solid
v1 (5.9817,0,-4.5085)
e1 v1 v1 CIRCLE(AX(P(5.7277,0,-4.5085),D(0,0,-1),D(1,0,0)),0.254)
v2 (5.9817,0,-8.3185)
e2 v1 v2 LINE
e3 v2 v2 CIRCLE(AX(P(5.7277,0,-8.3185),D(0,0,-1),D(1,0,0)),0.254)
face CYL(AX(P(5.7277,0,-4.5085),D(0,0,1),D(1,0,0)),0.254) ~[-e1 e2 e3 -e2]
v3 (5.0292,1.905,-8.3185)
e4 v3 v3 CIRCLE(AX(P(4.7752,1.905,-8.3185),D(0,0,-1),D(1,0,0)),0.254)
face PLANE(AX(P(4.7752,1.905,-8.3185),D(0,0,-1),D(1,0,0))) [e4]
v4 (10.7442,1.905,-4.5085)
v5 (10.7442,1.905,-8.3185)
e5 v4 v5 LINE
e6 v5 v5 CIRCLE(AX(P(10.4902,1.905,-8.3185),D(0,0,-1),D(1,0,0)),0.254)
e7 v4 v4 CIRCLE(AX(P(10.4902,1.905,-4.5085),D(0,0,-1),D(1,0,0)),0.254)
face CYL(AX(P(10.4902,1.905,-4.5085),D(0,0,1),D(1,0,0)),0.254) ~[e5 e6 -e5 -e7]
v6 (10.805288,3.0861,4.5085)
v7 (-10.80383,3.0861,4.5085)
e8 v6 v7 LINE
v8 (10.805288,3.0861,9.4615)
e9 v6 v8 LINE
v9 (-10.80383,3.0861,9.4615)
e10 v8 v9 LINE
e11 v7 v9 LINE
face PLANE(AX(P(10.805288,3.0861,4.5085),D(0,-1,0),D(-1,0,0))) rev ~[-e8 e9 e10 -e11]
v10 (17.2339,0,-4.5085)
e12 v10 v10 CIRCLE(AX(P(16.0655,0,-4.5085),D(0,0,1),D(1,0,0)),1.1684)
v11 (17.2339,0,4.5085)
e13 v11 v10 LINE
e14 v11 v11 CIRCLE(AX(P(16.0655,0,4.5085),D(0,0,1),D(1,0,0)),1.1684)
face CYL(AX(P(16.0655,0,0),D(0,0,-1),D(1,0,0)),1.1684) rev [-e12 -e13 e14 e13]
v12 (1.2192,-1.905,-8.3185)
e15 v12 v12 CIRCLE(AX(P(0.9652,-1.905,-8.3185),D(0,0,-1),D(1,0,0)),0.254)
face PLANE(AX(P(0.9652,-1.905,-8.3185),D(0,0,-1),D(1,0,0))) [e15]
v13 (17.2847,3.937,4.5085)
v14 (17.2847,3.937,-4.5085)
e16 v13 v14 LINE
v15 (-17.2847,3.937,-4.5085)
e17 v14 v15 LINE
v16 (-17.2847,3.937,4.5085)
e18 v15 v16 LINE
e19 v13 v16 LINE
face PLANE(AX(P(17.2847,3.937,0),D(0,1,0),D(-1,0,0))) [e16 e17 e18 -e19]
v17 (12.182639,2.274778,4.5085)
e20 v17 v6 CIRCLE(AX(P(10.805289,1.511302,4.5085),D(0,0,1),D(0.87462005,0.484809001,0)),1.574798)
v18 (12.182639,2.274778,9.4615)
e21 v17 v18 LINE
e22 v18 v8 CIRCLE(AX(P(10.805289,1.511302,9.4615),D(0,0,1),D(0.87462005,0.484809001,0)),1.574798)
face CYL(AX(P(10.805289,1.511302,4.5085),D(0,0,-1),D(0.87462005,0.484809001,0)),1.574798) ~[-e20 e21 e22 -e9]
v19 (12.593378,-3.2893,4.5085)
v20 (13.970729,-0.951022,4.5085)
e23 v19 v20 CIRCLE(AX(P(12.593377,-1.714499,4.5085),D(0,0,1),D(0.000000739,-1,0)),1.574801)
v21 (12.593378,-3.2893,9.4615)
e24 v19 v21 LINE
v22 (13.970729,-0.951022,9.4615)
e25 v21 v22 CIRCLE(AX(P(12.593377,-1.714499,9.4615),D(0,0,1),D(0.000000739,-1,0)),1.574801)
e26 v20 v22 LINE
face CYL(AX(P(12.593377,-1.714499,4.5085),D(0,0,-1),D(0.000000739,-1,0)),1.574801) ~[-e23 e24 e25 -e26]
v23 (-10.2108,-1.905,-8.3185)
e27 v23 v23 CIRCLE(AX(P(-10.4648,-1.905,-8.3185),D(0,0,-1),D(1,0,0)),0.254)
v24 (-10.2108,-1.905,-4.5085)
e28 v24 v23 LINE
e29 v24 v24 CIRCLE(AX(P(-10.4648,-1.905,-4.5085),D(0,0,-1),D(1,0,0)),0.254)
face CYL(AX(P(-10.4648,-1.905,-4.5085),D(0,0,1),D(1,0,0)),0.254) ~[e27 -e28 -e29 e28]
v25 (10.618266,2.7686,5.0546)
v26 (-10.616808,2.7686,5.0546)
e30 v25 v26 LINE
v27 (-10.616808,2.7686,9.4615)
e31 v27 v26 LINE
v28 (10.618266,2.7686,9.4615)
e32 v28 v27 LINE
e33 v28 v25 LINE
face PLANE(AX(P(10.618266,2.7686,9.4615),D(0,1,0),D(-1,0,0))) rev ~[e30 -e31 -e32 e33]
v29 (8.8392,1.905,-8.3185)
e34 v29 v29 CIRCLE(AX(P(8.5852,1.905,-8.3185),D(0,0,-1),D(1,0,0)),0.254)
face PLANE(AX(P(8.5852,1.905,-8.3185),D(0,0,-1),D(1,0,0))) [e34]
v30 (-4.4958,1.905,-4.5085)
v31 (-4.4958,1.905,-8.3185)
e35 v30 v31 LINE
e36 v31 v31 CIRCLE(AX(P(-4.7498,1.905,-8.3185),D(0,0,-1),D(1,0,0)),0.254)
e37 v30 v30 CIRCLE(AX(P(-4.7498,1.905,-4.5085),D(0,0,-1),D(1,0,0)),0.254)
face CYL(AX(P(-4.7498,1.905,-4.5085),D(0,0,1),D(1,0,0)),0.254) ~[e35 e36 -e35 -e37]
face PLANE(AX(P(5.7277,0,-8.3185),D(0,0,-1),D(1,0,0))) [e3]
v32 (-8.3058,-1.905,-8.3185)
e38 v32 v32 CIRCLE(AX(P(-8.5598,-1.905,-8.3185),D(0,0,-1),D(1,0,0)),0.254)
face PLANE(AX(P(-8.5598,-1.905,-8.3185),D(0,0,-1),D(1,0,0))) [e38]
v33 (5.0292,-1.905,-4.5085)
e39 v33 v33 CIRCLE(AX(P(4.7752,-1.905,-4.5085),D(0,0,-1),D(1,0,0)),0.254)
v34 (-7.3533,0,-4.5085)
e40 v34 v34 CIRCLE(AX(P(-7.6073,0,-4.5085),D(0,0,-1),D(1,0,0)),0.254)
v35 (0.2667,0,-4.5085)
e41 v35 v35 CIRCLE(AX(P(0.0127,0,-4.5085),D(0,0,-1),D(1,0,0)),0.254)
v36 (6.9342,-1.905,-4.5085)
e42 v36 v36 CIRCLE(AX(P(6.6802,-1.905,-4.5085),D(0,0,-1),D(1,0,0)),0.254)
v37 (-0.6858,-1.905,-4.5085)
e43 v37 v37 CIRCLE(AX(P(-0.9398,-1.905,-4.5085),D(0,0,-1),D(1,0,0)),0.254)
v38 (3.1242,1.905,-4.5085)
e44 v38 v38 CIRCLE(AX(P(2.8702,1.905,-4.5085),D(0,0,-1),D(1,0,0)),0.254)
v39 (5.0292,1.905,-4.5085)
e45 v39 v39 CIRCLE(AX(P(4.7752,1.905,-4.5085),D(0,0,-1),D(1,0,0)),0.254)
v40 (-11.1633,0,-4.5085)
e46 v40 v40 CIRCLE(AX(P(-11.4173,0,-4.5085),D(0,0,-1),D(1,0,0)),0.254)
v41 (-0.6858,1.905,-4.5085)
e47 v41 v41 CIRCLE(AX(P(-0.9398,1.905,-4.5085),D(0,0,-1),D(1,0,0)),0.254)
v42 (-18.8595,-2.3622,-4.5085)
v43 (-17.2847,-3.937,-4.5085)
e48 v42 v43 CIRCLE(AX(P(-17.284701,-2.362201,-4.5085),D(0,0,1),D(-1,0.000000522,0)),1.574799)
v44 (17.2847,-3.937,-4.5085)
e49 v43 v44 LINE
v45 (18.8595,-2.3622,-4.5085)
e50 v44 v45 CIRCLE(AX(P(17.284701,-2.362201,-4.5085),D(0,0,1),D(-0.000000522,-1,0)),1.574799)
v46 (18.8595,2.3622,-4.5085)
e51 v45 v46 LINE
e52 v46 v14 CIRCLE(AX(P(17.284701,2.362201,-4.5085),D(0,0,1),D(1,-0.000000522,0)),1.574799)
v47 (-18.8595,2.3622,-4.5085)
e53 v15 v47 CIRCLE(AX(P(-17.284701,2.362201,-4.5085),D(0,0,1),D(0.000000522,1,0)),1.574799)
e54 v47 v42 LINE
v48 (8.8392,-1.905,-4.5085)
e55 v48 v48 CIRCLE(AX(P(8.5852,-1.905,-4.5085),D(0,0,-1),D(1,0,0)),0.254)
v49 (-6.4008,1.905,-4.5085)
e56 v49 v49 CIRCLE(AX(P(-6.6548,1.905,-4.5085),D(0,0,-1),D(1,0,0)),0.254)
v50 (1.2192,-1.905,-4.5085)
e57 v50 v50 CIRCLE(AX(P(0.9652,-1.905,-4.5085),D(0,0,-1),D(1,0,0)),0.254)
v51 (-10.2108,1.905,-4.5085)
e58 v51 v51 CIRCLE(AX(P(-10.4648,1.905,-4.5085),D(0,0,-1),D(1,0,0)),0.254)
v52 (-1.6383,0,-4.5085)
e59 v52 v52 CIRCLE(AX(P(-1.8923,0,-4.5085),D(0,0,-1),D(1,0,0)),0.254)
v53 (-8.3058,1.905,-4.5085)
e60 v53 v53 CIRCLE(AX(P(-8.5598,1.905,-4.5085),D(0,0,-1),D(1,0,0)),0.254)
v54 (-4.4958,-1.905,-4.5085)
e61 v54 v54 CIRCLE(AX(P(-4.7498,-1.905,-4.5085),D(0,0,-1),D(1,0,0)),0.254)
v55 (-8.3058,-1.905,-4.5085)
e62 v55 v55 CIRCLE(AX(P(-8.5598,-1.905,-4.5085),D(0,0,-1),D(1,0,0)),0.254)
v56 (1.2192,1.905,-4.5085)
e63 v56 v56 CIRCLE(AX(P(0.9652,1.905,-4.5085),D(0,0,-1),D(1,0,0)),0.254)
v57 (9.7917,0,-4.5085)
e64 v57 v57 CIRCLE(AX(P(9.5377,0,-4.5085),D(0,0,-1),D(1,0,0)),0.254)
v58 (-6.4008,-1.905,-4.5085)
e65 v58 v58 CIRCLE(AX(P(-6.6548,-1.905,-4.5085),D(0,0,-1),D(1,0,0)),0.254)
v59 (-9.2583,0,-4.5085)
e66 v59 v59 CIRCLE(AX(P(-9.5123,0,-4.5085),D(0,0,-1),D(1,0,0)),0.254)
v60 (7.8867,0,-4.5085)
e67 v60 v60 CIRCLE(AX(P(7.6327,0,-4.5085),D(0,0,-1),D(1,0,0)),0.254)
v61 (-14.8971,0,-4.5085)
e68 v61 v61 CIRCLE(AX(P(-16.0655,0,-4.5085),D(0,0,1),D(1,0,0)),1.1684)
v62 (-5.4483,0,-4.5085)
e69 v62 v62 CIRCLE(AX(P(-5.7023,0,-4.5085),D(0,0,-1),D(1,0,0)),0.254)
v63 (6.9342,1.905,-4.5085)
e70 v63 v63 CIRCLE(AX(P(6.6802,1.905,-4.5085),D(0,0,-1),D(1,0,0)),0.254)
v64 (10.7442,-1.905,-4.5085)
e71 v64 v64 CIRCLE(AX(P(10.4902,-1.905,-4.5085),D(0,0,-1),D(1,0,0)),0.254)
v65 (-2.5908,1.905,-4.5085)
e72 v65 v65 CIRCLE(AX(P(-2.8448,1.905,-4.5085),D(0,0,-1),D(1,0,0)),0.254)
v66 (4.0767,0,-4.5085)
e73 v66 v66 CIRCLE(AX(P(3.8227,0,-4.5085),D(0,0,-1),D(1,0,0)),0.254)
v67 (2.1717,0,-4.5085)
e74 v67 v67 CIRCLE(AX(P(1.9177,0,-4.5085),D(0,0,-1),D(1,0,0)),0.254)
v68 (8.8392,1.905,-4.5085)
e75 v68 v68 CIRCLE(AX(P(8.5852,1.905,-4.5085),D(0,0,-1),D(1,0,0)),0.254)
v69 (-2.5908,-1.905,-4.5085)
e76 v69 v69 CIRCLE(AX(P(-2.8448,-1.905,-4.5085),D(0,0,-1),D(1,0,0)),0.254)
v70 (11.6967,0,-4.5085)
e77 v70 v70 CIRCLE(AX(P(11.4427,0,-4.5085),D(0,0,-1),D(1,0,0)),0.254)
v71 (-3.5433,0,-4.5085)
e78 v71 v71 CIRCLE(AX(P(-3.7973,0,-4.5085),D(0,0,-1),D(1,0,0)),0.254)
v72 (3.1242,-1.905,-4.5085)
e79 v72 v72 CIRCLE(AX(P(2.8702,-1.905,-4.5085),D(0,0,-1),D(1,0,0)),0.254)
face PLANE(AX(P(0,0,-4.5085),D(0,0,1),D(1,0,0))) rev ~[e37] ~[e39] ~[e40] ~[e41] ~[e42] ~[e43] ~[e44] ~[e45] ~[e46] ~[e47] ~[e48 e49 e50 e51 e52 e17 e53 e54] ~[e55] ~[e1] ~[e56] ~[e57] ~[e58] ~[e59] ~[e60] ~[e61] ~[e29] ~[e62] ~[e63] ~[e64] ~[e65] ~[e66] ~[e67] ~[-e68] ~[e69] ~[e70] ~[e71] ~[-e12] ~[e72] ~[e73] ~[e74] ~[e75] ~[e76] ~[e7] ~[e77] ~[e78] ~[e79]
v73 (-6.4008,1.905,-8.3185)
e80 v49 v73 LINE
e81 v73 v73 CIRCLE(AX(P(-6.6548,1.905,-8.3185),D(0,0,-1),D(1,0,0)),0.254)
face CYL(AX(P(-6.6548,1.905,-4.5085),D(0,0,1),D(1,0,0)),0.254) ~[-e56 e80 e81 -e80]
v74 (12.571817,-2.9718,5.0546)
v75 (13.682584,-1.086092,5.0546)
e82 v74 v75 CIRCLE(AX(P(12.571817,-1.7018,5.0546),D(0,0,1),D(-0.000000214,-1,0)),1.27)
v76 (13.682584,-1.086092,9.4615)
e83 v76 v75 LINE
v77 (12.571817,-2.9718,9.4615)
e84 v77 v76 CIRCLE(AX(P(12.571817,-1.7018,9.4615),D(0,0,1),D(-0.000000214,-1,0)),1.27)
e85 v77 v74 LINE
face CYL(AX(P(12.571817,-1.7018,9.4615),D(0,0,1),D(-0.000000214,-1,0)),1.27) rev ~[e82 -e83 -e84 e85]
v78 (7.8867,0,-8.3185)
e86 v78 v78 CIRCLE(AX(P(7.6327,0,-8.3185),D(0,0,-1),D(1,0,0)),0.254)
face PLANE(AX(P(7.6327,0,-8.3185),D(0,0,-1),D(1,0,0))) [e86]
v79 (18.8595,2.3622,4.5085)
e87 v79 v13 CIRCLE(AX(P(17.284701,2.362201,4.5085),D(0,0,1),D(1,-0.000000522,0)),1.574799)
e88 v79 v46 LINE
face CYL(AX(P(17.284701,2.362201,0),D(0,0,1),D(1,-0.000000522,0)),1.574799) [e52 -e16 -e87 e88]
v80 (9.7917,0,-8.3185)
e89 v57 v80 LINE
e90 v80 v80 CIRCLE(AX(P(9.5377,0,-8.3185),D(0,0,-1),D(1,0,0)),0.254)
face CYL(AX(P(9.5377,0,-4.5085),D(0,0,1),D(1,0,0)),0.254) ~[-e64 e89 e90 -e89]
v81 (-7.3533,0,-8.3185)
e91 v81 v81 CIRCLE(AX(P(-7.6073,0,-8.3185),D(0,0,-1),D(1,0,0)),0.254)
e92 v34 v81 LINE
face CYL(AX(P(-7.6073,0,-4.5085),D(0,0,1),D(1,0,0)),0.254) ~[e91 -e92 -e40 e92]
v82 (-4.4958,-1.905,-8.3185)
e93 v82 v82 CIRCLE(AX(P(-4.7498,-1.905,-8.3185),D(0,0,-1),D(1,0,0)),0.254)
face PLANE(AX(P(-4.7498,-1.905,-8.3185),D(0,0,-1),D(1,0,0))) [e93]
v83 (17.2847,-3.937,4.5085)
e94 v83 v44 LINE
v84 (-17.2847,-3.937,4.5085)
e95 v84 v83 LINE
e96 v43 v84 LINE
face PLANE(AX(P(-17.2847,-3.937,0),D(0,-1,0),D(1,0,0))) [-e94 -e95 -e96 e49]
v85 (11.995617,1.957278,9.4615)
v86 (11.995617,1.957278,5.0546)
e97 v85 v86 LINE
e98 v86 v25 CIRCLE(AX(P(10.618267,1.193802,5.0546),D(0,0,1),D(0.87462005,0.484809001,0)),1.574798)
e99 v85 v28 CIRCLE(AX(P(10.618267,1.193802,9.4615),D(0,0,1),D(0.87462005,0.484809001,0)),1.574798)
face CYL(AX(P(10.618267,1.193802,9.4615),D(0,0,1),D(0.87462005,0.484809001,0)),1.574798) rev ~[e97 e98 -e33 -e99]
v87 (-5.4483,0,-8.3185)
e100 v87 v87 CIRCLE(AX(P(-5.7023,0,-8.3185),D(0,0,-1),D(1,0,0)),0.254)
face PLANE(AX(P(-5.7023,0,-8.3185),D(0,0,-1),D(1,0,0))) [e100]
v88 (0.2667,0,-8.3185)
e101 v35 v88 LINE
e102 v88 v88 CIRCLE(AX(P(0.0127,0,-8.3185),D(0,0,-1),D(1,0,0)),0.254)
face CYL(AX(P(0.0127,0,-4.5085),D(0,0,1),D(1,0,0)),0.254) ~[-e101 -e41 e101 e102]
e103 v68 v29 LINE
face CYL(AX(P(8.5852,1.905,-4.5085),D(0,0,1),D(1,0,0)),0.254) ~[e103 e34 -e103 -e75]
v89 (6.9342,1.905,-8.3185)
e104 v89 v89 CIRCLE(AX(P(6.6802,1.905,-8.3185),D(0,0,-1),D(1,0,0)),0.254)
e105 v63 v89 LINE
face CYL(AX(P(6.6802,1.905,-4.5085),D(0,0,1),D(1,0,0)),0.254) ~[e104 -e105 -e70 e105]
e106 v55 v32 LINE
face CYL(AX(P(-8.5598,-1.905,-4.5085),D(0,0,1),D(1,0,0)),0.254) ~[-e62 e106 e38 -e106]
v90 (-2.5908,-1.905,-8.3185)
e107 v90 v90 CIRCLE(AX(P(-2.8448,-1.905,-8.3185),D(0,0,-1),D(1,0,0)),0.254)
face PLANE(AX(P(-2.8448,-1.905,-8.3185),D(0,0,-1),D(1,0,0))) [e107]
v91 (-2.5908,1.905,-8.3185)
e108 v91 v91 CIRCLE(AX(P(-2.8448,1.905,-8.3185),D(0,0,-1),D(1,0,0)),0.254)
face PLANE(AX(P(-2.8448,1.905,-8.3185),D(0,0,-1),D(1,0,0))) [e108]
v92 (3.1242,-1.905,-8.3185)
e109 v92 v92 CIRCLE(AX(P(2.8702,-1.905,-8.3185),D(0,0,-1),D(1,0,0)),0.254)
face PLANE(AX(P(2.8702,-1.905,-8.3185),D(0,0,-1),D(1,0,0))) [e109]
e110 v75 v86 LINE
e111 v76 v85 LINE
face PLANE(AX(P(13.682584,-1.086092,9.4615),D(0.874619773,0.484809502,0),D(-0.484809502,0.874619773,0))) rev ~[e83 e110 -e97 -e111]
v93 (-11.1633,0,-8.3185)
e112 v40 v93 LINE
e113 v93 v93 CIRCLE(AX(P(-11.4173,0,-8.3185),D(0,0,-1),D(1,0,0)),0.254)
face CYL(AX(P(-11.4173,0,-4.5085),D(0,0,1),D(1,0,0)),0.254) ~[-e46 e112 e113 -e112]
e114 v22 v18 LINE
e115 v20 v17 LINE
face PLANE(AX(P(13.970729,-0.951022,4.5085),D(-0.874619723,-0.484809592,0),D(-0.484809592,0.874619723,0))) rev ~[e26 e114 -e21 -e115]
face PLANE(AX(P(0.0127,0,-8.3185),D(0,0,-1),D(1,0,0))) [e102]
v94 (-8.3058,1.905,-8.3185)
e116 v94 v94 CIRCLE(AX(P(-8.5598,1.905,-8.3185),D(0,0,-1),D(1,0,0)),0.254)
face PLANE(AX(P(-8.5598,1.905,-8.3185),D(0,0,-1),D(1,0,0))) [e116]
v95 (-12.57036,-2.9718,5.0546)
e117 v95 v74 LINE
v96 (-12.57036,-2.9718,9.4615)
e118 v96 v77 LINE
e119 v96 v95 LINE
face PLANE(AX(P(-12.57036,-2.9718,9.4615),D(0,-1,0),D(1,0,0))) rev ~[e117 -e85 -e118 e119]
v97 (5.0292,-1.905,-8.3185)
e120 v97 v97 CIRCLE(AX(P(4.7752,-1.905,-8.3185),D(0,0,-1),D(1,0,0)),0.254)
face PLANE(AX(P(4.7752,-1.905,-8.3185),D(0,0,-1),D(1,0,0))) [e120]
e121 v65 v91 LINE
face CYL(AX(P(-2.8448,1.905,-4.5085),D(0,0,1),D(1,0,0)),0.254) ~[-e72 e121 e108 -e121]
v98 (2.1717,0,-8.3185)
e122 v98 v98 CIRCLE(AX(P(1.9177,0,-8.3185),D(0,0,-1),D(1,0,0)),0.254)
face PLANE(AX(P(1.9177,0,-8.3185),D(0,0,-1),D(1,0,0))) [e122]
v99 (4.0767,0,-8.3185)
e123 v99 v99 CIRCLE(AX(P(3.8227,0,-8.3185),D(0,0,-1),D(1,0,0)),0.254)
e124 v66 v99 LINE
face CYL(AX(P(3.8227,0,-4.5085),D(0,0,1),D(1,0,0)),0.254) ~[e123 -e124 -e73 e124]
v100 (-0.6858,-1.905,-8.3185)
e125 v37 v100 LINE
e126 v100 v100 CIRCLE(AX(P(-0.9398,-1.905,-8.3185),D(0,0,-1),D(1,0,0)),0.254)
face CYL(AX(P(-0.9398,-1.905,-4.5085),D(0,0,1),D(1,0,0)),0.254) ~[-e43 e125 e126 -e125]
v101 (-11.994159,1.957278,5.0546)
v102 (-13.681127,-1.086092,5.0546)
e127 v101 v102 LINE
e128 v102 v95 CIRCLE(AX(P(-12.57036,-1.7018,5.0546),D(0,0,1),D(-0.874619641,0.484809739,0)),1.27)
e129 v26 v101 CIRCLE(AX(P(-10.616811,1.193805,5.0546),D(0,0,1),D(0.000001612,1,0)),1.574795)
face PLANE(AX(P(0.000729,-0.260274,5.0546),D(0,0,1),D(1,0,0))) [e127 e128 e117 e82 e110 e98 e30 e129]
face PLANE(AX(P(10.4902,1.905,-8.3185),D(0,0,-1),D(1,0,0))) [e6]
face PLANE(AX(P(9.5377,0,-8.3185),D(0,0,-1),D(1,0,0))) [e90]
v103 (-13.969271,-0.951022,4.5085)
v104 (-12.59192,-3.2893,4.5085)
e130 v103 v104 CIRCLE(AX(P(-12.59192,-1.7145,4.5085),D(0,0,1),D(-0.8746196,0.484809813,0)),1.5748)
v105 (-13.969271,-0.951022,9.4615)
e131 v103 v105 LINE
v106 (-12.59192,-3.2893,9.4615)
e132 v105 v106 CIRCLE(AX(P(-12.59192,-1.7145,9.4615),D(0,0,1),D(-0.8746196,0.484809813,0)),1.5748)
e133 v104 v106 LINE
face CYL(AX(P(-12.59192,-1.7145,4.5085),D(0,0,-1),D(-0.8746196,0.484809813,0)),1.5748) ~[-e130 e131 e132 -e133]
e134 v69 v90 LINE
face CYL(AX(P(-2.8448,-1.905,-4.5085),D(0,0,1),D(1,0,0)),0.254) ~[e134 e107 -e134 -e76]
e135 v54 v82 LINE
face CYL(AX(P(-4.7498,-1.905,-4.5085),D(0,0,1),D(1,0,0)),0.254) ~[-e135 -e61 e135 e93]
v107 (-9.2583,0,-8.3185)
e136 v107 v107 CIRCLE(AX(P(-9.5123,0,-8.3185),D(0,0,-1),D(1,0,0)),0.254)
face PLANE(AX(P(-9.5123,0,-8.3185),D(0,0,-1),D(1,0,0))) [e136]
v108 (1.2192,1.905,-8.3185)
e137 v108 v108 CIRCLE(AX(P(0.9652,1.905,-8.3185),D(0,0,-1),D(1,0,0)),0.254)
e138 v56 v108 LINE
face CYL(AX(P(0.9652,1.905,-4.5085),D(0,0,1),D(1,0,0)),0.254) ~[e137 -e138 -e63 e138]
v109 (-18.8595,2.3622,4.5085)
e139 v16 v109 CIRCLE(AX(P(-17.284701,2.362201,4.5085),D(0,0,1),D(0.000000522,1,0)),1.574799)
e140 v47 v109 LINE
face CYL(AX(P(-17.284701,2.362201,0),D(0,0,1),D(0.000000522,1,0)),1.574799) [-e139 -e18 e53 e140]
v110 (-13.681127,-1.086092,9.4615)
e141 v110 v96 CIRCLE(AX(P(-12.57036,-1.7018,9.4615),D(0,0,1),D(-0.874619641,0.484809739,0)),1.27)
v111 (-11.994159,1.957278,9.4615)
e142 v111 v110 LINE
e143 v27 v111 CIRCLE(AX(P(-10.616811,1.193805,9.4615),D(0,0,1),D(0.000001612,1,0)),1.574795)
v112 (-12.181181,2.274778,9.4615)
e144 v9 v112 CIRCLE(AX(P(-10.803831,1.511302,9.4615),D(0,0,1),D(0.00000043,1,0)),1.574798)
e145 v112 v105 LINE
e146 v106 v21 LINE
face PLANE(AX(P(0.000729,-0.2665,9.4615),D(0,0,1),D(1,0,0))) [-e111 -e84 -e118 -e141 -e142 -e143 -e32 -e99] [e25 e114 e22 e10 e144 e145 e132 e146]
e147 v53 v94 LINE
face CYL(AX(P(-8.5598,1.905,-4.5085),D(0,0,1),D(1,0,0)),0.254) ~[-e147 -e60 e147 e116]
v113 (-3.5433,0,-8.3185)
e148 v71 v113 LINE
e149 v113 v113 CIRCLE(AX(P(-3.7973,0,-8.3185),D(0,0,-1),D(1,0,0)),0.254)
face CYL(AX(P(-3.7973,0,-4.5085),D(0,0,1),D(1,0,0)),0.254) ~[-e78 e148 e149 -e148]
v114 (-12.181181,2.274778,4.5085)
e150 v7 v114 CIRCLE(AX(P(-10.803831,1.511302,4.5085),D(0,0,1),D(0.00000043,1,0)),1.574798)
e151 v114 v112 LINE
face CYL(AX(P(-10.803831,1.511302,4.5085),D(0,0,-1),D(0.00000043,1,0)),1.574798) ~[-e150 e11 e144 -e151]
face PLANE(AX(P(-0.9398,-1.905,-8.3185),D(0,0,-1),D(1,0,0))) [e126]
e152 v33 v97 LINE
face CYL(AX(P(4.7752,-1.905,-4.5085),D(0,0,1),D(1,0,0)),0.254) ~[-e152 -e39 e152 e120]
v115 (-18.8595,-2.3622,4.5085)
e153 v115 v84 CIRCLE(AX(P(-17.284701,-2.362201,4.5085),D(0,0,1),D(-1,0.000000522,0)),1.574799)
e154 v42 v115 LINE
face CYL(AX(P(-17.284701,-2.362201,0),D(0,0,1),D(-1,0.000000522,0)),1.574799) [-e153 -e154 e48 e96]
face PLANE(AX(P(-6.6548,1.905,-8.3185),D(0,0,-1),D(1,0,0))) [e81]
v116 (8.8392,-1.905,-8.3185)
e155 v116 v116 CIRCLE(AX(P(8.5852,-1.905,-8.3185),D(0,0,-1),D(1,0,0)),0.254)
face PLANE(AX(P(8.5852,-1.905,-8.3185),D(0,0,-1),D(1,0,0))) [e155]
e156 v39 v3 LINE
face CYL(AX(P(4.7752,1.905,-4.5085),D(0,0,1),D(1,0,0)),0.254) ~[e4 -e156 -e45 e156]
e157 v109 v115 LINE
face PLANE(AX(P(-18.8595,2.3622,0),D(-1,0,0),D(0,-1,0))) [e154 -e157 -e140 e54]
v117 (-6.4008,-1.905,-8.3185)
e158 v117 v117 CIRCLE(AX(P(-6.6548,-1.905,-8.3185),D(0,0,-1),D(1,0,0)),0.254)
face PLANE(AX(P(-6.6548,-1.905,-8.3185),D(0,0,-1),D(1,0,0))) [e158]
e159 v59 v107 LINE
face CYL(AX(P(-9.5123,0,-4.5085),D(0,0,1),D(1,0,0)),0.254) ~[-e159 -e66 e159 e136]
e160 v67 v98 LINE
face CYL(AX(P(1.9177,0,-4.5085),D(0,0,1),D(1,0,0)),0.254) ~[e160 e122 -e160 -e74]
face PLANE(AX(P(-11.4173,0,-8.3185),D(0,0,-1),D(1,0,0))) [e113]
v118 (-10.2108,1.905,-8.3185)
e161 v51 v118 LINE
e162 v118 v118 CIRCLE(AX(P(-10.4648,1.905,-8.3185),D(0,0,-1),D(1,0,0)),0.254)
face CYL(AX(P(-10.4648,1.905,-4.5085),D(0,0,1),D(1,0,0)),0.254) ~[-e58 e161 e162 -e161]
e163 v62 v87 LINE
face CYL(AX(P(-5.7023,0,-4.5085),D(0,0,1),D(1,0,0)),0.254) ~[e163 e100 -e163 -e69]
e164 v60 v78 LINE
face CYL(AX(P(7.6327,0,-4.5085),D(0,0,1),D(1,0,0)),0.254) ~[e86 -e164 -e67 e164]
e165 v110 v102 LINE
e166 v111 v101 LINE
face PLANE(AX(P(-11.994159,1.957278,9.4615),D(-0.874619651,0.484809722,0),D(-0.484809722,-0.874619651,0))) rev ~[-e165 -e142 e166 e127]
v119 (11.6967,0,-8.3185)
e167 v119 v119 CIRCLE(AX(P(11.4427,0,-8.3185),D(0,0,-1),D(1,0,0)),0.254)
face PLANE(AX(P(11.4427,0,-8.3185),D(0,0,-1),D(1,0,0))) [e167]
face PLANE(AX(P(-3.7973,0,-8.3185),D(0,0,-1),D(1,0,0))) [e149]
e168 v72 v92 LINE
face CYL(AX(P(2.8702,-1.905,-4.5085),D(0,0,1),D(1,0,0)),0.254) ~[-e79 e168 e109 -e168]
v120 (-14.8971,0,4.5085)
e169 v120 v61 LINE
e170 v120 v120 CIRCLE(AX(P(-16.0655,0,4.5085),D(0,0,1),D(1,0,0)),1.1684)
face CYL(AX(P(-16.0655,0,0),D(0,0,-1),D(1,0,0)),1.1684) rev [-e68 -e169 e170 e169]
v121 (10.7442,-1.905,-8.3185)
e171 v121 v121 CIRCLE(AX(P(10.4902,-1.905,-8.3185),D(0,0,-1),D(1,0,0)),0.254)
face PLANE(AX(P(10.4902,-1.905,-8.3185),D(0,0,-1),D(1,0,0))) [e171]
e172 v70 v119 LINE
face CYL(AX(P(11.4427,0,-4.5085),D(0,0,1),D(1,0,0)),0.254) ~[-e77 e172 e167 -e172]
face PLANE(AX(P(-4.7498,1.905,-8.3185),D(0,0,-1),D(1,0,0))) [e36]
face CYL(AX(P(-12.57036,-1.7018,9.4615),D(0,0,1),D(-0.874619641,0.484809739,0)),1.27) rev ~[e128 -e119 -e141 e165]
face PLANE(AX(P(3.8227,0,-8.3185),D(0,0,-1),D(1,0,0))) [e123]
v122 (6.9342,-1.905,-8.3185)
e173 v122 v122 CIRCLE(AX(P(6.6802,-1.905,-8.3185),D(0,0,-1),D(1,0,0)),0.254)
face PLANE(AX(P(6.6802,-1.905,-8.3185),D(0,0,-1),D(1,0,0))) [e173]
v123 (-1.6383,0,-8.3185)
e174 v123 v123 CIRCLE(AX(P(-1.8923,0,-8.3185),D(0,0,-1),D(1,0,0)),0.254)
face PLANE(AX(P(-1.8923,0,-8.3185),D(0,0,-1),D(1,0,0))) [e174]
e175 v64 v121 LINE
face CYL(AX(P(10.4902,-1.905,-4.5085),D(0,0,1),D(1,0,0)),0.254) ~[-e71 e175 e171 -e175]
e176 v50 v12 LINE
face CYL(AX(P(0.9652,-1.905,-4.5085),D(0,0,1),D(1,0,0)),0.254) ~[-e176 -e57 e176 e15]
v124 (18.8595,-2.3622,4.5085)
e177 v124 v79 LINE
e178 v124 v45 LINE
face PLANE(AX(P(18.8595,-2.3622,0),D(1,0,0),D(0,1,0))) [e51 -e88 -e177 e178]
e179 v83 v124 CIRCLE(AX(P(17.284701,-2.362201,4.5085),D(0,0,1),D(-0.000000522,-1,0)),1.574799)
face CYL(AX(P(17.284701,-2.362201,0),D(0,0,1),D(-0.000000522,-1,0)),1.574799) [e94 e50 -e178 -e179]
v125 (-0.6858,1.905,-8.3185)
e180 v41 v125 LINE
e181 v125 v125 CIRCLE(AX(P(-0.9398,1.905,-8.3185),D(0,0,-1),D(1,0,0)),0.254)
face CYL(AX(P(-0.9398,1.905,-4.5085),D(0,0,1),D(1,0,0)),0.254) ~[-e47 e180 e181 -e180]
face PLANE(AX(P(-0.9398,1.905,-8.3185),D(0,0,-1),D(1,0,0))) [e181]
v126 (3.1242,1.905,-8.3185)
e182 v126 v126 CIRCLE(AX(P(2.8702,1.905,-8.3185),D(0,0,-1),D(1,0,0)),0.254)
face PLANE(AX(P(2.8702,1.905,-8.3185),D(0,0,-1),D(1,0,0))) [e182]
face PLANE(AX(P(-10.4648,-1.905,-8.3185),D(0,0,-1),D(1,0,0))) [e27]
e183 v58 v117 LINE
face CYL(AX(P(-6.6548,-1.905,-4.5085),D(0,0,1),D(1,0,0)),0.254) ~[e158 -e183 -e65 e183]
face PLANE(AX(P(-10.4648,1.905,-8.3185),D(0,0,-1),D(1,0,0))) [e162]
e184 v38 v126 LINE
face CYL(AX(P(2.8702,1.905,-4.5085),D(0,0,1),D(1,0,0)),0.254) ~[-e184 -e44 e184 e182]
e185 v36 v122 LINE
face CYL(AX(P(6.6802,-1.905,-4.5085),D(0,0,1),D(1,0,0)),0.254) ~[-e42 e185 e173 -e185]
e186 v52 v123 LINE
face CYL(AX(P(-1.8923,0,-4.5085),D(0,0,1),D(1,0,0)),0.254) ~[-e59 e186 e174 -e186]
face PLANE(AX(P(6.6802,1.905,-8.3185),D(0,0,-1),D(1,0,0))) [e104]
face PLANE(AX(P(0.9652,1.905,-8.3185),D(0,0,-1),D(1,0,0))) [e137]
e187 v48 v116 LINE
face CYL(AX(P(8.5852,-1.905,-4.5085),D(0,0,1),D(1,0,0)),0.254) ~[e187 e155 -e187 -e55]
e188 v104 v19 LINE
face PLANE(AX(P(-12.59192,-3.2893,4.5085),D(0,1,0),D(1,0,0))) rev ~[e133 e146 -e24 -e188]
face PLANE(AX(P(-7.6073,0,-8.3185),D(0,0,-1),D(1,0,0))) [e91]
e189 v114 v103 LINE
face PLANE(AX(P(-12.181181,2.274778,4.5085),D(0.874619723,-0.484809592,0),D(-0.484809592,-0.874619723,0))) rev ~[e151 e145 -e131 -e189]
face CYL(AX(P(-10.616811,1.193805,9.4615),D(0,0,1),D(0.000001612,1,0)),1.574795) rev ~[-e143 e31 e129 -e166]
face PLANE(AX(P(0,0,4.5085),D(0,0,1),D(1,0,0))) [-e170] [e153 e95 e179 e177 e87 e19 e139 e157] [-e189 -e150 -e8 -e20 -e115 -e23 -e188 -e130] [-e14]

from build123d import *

# Parameters (mm, degrees)
F0_R     = 1.1684
F1_DEPTH = 4.5085
F3_DEPTH = 4.953
F5_DEPTH = 4.4069
F6_R     = 0.254
F7_DEPTH = 3.81


with BuildPart() as f1:
    # F0 (on Top) → F1 (new body, symmetric)
    with BuildSketch(Plane.XY):
        with BuildLine():
            Line((17.2847, 3.937), (-17.2847, 3.937))
            ThreePointArc((-17.2847, 3.937), (-18.398252, 3.475752), (-18.8595, 2.3622))
            Line((-18.8595, 2.3622), (-18.8595, -2.3622))
            ThreePointArc((-18.8595, -2.3622), (-18.398252, -3.475752), (-17.2847, -3.937))
            Line((-17.2847, -3.937), (17.2847, -3.937))
            ThreePointArc((17.2847, -3.937), (18.398252, -3.475752), (18.8595, -2.3622))
            Line((18.8595, -2.3622), (18.8595, 2.3622))
            ThreePointArc((18.8595, 2.3622), (18.398252, 3.475752), (17.2847, 3.937))
        make_face()
        with Locations((-16.0655, 0)):
            Circle(F0_R, mode=Mode.SUBTRACT)
        with Locations((16.0655, 0)):
            Circle(F0_R, mode=Mode.SUBTRACT)
    extrude(amount=F1_DEPTH, both=True)

    # F2 (on face) → F3 (join)
    with BuildSketch(Plane.XY.offset(4.5085)):
        with BuildLine():
            Line((-12.59192, -3.2893), (12.593378, -3.2893))
            ThreePointArc((12.593378, -3.2893), (13.950271, -2.513771), (13.970729, -0.951022))
            Line((13.970729, -0.951022), (12.182639, 2.274778))
            ThreePointArc((12.182639, 2.274778), (11.604559, 2.868194), (10.805288, 3.0861))
            Line((10.805288, 3.0861), (-10.80383, 3.0861))
            ThreePointArc((-10.80383, 3.0861), (-11.603101, 2.868194), (-12.181181, 2.274778))
            Line((-12.181181, 2.274778), (-13.969271, -0.951022))
            ThreePointArc((-13.969271, -0.951022), (-13.948814, -2.513771), (-12.59192, -3.2893))
        make_face()
    extrude(amount=F3_DEPTH)

    # F4 (on face) → F5 (cut)
    with BuildSketch(Plane.XY.offset(9.4615)):
        with BuildLine():
            Line((10.618266, 2.7686), (-10.616808, 2.7686))
            ThreePointArc((-10.616808, 2.7686), (-11.41608, 2.550694), (-11.994159, 1.957278))
            Line((-11.994159, 1.957278), (-13.681127, -1.086092))
            ThreePointArc((-13.681127, -1.086092), (-13.664629, -2.346374), (-12.57036, -2.9718))
            Line((-12.57036, -2.9718), (12.571817, -2.9718))
            ThreePointArc((12.571817, -2.9718), (13.666086, -2.346374), (13.682584, -1.086092))
            Line((13.682584, -1.086092), (11.995617, 1.957278))
            ThreePointArc((11.995617, 1.957278), (11.417537, 2.550694), (10.618266, 2.7686))
        make_face()
    extrude(amount=-F5_DEPTH, mode=Mode.SUBTRACT)

    # F6 (on face) → F7 (join)
    with BuildSketch(Plane(origin=(0, 0, -4.5085), x_dir=(1, 0, 0), z_dir=(0, 0, -1))):
        with Locations((-10.4648, 1.905)):
            Circle(F6_R)
        with Locations((-8.5598, 1.905)):
            Circle(F6_R)
        with Locations((-6.6548, 1.905)):
            Circle(F6_R)
        with Locations((-4.7498, 1.905)):
            Circle(F6_R)
        with Locations((-2.8448, 1.905)):
            Circle(F6_R)
        with Locations((-0.9398, 1.905)):
            Circle(F6_R)
        with Locations((0.9652, 1.905)):
            Circle(F6_R)
        with Locations((2.8702, 1.905)):
            Circle(F6_R)
        with Locations((4.7752, 1.905)):
            Circle(F6_R)
        with Locations((6.6802, 1.905)):
            Circle(F6_R)
        with Locations((8.5852, 1.905)):
            Circle(F6_R)
        with Locations((10.4902, 1.905)):
            Circle(F6_R)
        with Locations((-11.4173, 0)):
            Circle(F6_R)
        with Locations((-9.5123, 0)):
            Circle(F6_R)
        with Locations((-7.6073, 0)):
            Circle(F6_R)
        with Locations((-5.7023, 0)):
            Circle(F6_R)
        with Locations((-3.7973, 0)):
            Circle(F6_R)
        with Locations((-1.8923, 0)):
            Circle(F6_R)
        with Locations((-10.4648, -1.905)):
            Circle(F6_R)
        with Locations((-8.5598, -1.905)):
            Circle(F6_R)
        with Locations((-6.6548, -1.905)):
            Circle(F6_R)
        with Locations((-4.7498, -1.905)):
            Circle(F6_R)
        with Locations((-2.8448, -1.905)):
            Circle(F6_R)
        with Locations((-0.9398, -1.905)):
            Circle(F6_R)
        with Locations((0.0127, 0)):
            Circle(F6_R)
        with Locations((1.9177, 0)):
            Circle(F6_R)
        with Locations((3.8227, 0)):
            Circle(F6_R)
        with Locations((5.7277, 0)):
            Circle(F6_R)
        with Locations((7.6327, 0)):
            Circle(F6_R)
        with Locations((9.5377, 0)):
            Circle(F6_R)
        with Locations((11.4427, 0)):
            Circle(F6_R)
        with Locations((0.9652, -1.905)):
            Circle(F6_R)
        with Locations((2.8702, -1.905)):
            Circle(F6_R)
        with Locations((4.7752, -1.905)):
            Circle(F6_R)
        with Locations((6.6802, -1.905)):
            Circle(F6_R)
        with Locations((8.5852, -1.905)):
            Circle(F6_R)
        with Locations((10.4902, -1.905)):
            Circle(F6_R)
    extrude(amount=F7_DEPTH)


solid = f1.part
